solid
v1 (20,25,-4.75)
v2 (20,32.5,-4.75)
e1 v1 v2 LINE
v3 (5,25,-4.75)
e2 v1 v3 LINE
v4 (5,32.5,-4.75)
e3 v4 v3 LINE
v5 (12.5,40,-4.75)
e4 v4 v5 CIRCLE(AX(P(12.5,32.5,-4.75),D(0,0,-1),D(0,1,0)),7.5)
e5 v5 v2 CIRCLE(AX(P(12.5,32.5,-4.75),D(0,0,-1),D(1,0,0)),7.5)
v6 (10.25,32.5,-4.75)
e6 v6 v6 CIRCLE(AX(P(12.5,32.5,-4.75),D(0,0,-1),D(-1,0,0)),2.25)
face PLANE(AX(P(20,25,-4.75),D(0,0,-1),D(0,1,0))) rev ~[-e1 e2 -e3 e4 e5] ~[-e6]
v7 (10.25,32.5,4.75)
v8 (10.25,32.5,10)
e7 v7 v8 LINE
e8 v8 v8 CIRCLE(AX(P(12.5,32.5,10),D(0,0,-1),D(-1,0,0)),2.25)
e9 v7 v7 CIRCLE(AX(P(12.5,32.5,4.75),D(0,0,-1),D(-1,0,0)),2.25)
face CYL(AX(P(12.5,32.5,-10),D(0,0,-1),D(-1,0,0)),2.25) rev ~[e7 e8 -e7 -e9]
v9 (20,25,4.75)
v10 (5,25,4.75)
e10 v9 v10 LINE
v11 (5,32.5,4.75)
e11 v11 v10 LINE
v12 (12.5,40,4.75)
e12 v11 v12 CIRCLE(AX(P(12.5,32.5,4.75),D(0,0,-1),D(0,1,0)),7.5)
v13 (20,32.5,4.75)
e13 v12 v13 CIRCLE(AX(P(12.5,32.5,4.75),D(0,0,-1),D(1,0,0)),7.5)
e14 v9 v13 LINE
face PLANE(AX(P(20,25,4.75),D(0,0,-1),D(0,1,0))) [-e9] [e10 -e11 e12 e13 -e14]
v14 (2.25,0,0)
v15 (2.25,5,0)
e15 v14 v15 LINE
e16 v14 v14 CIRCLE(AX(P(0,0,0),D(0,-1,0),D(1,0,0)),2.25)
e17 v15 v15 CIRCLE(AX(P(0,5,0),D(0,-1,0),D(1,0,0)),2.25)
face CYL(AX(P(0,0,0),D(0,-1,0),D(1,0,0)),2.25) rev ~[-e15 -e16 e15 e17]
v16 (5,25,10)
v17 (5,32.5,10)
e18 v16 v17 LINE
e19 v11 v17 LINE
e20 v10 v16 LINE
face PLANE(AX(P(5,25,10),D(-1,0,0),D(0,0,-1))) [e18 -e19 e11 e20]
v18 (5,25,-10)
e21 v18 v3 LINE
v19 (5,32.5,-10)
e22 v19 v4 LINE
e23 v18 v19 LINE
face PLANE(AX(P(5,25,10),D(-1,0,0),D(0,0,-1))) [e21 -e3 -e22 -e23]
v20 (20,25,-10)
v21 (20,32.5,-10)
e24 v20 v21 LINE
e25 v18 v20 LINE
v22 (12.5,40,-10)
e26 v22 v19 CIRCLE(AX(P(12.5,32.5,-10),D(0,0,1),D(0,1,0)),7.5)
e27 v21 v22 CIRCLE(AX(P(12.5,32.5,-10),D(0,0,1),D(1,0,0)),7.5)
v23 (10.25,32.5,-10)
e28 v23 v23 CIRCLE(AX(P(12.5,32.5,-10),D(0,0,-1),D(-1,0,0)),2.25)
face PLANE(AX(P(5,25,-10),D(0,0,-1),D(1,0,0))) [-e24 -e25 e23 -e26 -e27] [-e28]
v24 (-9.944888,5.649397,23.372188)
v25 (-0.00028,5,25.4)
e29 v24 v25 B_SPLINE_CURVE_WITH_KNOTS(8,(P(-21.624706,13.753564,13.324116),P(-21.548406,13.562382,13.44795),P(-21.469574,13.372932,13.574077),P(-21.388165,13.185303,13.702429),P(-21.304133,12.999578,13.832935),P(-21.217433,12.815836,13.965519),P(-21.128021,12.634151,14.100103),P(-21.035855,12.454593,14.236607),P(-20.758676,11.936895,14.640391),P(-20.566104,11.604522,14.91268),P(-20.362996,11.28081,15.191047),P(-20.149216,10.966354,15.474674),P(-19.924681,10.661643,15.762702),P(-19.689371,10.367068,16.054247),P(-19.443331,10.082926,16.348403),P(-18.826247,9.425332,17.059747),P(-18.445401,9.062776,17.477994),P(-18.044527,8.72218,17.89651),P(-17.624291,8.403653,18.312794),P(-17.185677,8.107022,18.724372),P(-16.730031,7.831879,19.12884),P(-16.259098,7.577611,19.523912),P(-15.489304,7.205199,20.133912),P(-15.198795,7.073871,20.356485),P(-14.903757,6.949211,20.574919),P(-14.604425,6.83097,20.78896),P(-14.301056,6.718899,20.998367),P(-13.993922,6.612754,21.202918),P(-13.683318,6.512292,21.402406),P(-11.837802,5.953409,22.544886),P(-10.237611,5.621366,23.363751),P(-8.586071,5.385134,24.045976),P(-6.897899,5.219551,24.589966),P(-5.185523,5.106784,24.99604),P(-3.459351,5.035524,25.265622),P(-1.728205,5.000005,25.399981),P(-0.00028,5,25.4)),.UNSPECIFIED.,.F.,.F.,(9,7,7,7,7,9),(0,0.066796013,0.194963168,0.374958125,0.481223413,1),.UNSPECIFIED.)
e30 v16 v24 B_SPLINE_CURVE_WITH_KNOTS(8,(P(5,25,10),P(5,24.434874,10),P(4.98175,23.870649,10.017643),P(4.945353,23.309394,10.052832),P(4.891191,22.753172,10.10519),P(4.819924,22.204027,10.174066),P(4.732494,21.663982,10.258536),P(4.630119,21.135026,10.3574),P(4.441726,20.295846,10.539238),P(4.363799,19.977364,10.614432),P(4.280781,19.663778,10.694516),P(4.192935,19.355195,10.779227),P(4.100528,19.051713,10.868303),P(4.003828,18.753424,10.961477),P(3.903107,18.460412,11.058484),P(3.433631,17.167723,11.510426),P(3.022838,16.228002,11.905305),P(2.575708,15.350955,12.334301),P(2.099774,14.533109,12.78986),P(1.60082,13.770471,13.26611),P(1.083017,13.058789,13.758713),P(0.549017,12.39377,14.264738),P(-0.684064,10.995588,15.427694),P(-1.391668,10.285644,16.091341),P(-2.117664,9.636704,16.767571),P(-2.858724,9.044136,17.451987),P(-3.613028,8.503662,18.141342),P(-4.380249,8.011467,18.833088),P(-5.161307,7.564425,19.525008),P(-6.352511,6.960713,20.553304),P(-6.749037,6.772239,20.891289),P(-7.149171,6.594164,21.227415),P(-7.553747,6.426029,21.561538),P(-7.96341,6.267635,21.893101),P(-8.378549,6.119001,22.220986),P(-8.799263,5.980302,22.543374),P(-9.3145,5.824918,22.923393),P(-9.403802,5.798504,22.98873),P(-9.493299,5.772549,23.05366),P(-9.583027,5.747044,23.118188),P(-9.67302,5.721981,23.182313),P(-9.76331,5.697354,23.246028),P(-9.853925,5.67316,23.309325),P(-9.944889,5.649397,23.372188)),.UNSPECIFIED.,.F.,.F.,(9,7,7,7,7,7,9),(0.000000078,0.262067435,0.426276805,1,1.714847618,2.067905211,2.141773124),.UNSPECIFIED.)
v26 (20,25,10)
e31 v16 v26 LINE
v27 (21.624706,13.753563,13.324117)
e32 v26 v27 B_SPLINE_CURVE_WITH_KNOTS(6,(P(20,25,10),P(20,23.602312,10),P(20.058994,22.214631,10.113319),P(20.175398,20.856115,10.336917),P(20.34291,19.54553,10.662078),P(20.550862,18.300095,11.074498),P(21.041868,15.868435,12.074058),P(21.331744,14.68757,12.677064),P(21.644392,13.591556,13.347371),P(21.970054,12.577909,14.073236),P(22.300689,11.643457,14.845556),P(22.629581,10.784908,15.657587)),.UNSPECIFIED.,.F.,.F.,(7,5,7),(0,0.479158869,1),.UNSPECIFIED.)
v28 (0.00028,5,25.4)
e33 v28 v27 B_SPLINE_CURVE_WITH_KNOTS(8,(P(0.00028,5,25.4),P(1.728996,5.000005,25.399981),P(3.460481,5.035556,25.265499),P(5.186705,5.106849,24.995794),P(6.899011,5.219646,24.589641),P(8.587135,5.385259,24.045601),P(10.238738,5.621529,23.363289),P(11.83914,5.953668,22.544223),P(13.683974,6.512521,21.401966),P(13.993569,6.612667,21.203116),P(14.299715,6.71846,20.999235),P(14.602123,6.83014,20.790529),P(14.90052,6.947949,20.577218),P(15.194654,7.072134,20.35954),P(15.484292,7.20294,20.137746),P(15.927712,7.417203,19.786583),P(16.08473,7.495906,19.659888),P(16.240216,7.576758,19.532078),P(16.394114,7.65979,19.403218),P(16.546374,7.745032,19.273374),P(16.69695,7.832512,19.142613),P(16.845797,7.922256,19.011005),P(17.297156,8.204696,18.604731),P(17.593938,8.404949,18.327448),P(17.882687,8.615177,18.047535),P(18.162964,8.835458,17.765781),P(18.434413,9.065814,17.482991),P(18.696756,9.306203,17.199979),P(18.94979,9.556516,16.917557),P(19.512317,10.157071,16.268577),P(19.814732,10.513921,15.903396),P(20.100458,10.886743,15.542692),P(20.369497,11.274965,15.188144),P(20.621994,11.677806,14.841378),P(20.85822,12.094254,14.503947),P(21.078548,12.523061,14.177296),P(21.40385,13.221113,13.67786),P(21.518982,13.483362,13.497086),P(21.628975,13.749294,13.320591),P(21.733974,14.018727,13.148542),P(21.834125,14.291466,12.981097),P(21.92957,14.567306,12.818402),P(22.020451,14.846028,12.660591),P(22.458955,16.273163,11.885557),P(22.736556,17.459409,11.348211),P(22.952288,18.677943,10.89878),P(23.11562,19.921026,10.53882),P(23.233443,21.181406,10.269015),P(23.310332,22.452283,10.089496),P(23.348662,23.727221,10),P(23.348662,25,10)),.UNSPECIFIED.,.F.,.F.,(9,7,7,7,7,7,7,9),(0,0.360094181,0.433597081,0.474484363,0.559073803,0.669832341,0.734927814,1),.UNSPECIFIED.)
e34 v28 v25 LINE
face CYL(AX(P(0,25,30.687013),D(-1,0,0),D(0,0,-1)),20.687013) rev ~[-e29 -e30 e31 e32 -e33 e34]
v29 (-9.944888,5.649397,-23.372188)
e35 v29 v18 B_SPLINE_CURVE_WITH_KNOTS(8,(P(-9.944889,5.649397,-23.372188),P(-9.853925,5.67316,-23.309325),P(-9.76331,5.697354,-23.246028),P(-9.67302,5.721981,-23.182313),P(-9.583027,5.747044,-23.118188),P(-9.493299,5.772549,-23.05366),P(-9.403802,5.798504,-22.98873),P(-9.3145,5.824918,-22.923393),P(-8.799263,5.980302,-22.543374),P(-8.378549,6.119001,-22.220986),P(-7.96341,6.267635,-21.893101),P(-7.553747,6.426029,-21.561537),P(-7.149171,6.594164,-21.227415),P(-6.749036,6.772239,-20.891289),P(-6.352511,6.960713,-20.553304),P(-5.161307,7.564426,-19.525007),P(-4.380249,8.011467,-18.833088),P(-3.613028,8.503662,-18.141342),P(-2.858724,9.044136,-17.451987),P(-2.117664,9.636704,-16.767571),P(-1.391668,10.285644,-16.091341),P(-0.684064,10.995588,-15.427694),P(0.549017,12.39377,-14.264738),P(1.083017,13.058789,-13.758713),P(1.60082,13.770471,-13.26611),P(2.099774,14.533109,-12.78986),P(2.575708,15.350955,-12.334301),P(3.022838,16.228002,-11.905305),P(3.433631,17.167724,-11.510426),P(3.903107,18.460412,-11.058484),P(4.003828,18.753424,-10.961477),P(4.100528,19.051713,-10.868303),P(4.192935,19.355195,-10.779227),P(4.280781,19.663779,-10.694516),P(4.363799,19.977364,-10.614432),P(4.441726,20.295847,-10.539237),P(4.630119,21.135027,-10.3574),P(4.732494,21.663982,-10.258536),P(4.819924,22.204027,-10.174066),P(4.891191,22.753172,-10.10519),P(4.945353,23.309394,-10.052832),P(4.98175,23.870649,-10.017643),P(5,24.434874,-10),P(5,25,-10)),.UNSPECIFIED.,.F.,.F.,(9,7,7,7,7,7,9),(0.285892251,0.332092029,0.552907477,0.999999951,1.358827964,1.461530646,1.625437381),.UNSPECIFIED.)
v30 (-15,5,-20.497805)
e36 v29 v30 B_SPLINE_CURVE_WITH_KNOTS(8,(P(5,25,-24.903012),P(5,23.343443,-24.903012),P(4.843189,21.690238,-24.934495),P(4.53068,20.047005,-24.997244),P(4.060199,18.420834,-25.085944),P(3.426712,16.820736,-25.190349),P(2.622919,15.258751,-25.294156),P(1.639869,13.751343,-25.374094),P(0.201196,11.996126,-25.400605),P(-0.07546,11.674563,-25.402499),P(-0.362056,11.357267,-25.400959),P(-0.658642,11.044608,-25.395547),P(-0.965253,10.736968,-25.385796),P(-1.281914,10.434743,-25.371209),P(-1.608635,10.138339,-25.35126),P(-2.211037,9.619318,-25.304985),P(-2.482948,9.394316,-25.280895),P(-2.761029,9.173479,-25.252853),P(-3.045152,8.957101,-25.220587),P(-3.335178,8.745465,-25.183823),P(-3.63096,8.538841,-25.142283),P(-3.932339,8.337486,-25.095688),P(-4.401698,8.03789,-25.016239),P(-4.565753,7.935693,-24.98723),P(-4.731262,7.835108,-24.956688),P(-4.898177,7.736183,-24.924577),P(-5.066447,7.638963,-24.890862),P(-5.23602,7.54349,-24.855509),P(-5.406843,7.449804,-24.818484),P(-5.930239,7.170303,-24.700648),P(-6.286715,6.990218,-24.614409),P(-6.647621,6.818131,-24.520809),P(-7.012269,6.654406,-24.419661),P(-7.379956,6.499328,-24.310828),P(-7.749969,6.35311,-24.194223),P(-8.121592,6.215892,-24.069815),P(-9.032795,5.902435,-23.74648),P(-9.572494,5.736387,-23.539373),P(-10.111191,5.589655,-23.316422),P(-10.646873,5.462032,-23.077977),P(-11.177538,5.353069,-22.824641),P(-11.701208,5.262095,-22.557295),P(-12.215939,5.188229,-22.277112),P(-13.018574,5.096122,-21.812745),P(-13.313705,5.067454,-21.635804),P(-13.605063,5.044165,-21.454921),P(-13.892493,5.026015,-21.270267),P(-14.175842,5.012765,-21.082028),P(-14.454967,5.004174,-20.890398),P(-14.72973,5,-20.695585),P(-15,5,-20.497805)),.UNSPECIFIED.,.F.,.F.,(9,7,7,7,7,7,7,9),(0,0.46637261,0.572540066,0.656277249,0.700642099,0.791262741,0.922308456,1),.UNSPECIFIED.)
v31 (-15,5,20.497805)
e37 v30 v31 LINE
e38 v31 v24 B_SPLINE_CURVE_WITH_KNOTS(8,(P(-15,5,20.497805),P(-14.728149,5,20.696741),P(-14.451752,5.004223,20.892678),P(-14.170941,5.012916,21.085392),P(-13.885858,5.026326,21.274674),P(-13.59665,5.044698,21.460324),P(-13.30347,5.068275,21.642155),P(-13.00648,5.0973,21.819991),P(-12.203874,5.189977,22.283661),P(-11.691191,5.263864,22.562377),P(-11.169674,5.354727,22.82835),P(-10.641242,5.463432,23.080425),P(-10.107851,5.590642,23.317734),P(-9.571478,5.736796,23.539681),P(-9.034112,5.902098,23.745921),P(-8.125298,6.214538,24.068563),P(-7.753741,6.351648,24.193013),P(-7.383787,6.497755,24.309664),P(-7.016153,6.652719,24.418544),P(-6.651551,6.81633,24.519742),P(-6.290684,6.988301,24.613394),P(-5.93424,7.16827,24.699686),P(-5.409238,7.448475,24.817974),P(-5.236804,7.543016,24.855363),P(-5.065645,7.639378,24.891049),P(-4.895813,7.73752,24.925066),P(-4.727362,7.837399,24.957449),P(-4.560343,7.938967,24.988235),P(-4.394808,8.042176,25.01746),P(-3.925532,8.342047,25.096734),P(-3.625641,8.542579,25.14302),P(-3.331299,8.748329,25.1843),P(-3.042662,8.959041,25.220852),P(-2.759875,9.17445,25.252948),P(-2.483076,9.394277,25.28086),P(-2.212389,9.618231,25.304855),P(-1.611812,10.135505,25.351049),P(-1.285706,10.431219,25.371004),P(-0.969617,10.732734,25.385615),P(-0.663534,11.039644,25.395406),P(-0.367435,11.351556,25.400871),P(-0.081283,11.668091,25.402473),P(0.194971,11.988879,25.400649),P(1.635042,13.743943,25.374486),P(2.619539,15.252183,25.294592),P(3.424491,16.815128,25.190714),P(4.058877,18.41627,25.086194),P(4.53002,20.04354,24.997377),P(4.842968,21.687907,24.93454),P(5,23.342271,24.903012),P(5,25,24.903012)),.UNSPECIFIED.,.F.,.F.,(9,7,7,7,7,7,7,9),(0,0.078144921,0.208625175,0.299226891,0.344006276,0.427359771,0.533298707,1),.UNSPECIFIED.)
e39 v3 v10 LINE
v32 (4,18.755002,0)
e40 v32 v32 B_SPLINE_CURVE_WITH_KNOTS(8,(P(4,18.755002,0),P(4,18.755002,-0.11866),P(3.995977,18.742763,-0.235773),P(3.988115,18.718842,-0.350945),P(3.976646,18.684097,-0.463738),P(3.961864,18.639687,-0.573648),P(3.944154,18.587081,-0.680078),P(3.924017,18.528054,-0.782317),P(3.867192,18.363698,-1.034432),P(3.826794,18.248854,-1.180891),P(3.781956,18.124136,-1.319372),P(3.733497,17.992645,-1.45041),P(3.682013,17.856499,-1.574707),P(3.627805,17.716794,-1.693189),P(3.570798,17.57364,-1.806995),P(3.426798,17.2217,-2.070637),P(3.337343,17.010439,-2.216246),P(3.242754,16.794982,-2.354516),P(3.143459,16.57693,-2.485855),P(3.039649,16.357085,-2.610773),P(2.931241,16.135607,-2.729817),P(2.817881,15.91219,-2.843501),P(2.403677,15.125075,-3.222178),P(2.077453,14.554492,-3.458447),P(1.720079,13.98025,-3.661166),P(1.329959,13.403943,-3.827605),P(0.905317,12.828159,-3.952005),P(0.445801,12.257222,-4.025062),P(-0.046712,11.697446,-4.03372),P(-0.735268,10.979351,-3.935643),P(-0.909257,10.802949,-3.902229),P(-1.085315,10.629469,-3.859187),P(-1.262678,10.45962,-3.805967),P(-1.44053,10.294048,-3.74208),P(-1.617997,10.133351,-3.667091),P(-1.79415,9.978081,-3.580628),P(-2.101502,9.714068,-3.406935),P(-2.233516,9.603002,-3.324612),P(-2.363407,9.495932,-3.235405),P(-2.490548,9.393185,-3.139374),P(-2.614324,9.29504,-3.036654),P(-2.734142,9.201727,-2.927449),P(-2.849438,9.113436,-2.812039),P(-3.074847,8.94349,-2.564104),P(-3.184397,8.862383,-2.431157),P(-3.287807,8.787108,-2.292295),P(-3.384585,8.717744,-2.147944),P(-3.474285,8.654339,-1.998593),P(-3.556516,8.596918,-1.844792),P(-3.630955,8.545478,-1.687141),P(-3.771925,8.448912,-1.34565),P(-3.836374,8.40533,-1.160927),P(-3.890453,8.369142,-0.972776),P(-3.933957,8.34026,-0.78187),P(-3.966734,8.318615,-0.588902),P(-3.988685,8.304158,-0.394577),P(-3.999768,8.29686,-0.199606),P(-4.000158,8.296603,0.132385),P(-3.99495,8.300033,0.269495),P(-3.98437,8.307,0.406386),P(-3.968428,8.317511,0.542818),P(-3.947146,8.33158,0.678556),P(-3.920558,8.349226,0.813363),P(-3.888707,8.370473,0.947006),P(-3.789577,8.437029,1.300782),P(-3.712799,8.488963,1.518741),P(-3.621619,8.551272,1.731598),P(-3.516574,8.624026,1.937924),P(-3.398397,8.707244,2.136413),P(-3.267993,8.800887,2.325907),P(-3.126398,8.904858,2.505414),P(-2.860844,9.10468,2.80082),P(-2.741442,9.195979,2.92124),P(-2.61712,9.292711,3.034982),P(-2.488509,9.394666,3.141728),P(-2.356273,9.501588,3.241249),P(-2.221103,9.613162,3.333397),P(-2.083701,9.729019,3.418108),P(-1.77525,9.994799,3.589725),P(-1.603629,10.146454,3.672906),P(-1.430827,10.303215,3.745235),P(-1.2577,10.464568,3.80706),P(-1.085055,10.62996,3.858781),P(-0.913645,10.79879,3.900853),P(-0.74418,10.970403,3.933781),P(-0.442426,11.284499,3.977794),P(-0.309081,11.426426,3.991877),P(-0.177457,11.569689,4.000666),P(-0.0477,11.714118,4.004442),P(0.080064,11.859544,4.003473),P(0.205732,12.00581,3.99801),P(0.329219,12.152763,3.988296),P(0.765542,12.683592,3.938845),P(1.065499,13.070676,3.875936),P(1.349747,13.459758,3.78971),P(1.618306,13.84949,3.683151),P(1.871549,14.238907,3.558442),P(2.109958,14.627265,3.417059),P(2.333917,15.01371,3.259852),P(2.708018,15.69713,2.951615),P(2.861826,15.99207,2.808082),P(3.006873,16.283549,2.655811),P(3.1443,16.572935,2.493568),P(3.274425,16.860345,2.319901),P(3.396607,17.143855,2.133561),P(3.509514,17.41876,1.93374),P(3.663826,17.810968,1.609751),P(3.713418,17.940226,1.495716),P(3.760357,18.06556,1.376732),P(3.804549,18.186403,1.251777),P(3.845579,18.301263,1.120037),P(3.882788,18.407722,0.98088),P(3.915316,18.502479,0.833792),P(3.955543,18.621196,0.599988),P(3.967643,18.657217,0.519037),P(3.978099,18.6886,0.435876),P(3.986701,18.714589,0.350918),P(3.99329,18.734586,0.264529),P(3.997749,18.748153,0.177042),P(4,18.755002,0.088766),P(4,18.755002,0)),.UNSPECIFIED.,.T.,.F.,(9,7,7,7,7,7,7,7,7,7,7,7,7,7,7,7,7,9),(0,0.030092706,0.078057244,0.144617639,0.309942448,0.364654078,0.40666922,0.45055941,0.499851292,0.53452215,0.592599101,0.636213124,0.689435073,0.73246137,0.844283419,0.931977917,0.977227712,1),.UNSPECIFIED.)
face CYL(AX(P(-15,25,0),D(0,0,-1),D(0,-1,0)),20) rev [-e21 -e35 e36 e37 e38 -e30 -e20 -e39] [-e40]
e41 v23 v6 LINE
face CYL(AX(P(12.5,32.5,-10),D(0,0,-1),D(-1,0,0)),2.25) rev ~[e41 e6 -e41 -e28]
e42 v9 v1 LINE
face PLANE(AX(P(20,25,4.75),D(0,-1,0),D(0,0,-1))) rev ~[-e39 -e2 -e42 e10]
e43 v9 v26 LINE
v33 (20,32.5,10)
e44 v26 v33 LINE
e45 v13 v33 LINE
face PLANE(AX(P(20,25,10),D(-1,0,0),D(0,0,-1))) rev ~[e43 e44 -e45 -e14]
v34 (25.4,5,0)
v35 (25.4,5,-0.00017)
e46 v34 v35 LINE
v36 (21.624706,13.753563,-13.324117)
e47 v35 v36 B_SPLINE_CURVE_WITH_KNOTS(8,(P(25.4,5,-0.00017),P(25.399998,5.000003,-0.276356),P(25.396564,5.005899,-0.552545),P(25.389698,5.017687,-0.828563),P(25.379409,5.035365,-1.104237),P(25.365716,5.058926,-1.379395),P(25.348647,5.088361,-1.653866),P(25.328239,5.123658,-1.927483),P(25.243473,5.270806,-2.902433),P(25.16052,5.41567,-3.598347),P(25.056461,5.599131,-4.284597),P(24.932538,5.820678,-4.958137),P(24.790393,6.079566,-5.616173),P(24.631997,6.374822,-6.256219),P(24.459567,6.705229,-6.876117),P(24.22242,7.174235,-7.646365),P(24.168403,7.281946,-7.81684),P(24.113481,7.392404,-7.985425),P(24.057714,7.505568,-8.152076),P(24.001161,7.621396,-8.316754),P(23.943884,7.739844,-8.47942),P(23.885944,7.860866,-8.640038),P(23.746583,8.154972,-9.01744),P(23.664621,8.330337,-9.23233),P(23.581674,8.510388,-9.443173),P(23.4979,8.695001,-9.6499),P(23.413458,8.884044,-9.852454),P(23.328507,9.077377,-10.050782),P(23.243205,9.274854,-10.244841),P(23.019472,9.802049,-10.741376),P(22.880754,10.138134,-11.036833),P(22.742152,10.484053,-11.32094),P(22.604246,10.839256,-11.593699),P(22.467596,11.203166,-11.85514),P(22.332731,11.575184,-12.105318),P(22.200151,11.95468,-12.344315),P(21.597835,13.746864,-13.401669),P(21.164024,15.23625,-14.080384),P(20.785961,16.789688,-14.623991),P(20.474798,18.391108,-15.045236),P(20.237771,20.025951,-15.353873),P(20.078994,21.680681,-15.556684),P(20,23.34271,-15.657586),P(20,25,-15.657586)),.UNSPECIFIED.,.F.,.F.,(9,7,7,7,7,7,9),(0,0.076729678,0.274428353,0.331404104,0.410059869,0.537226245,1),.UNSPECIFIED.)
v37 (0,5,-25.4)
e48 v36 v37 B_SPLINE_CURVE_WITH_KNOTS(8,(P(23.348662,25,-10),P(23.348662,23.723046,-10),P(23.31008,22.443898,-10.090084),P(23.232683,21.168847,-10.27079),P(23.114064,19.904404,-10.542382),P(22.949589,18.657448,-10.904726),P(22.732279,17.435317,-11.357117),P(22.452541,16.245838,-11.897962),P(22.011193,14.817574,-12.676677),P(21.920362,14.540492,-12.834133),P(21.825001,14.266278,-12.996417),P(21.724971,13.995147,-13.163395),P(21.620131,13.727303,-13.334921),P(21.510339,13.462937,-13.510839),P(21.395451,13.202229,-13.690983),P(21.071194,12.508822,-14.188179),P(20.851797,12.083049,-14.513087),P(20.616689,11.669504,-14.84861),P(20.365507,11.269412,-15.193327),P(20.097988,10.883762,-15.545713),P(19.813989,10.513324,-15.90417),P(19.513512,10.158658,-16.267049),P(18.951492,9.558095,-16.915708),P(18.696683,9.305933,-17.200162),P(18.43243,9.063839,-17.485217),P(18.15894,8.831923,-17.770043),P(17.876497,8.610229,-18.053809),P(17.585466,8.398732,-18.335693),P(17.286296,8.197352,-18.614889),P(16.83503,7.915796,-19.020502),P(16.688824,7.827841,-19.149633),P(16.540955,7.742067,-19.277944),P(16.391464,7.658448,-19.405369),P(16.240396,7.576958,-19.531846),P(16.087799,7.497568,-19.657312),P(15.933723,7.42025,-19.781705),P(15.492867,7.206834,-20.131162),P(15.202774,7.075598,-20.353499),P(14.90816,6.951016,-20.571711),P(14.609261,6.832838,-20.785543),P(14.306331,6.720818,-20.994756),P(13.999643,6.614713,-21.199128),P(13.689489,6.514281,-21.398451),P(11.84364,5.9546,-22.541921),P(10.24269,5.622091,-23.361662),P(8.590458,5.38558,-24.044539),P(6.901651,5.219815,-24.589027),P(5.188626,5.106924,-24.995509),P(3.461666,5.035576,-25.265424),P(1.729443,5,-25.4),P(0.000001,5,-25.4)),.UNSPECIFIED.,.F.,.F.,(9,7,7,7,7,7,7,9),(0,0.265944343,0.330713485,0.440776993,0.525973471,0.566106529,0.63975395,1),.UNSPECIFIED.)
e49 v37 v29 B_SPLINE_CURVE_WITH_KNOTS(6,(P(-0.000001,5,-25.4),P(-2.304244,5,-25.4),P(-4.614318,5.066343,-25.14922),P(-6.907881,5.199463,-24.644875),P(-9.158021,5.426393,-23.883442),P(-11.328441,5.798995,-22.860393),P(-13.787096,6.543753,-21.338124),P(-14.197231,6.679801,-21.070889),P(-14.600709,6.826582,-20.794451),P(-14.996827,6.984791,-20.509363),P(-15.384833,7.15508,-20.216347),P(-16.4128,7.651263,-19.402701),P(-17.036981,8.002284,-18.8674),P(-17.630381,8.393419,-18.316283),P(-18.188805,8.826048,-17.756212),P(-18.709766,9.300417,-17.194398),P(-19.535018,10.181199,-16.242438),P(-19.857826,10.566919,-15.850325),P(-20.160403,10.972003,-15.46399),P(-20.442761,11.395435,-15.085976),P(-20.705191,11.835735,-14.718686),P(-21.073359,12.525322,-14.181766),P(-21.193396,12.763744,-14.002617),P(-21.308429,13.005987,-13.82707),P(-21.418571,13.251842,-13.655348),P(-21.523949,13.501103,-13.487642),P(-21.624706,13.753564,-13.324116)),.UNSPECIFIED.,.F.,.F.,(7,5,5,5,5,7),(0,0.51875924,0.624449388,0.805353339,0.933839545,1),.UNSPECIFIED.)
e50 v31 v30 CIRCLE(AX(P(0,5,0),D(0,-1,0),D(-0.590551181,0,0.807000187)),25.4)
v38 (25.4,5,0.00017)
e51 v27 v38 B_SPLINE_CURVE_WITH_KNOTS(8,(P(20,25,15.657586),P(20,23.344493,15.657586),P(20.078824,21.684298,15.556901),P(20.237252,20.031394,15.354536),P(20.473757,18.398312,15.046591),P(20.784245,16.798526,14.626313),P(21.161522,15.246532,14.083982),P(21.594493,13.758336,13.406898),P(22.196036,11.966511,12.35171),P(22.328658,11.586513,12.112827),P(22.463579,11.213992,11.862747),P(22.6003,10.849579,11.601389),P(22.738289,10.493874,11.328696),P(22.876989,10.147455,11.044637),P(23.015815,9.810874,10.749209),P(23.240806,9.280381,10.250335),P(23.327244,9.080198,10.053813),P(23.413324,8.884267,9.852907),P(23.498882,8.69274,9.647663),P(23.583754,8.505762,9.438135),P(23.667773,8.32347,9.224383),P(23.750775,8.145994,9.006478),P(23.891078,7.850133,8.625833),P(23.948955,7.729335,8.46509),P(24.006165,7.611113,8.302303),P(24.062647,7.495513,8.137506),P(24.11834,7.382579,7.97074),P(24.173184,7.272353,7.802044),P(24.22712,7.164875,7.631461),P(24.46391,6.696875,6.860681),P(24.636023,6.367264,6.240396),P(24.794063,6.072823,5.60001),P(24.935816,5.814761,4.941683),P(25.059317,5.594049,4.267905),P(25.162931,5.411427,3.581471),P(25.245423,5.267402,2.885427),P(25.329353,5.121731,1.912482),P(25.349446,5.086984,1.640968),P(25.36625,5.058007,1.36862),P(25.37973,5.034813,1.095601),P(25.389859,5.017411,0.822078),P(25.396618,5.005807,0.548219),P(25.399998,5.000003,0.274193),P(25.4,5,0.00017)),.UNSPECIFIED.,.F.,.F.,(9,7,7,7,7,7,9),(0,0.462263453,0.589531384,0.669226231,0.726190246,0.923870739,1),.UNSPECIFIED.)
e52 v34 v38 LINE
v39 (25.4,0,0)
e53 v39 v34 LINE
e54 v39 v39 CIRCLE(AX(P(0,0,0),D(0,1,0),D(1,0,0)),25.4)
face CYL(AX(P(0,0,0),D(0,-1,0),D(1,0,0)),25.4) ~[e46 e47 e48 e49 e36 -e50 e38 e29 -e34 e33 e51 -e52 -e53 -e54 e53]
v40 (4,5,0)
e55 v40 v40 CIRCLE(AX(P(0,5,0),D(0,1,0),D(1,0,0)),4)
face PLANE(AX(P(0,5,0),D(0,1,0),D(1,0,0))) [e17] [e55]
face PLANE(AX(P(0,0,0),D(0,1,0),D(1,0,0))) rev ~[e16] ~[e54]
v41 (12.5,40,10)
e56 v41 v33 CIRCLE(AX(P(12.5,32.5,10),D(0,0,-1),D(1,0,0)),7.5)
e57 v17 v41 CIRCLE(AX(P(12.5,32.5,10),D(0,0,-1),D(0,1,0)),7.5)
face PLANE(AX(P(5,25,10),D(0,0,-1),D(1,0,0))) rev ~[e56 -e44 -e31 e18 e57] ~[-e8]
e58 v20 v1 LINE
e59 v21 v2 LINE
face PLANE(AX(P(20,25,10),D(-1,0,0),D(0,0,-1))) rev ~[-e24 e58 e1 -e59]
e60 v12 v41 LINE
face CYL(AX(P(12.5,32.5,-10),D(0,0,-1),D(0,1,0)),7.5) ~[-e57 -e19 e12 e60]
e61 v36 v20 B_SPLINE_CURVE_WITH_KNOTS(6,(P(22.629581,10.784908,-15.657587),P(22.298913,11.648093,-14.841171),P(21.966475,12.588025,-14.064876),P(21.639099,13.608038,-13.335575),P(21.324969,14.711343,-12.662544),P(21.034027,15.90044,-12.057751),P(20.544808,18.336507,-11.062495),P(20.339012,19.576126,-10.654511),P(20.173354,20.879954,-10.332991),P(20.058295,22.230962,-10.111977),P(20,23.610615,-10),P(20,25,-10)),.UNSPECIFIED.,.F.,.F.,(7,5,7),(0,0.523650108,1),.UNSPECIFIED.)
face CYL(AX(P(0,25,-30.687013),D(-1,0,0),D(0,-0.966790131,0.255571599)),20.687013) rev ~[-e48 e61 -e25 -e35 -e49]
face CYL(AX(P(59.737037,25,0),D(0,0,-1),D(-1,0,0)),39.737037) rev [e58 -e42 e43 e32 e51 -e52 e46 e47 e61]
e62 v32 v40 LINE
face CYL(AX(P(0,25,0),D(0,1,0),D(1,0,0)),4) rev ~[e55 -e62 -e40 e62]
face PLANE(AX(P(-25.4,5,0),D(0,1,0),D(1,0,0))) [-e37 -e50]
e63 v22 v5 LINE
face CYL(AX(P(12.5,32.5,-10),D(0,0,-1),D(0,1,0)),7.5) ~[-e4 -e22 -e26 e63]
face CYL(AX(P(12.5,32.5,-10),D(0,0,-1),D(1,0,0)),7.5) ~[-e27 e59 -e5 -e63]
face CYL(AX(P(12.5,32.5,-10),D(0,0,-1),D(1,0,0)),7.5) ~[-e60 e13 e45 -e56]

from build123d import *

# Parameters (mm, degrees)
SKETCH1_R               = 25.4
BASE_DEPTH              = 25
SKETCH3_OUTSIDE_W       = 68.014
SKETCH3_OUTSIDE_H       = 42.214
CUT_EXTRUDE1_DEPTH      = 26.4
CUT_EXTRUDE1_DEPTH_BACK = 26.4
SKETCH4_OUTSIDE_W       = 68.014
SKETCH4_OUTSIDE_H       = 42.214
CUT_EXTRUDE2_DEPTH      = 26.4000001
CUT_EXTRUDE2_DEPTH_BACK = 26.4000001
SKETCH5_R               = 2.25
CUT_EXTRUDE3_DEPTH      = 26.0000001
SKETCH6_R               = 4
CUT_EXTRUDE4_DEPTH      = 20
SKETCH7_W               = 15
SKETCH7_H               = 20
ARM_BASE_DEPTH          = 15
SKETCH8_R               = 2.25
ARM_HOLE_DEPTH          = 36.4000001
SKETCH9_W               = 9.5
SKETCH9_H               = 15
CUT_EXTRUDE7_DEPTH      = 46.4000001


with BuildPart() as part:
    # Sketch1 → base (new body)
    with BuildSketch(Plane(origin=(0, 0, 0), x_dir=(1, 0, 0), z_dir=(0, 1, 0))):
        Circle(SKETCH1_R)
    extrude(amount=BASE_DEPTH)

    # Sketch3 outside → Cut-Extrude1 (cut, two sides)
    with BuildSketch(Plane.XY) as cut_extrude1_sk:
        with Locations((0, 12.5)):
            Rectangle(SKETCH3_OUTSIDE_W, SKETCH3_OUTSIDE_H)
        with BuildLine():
            Line((5, 25), (20, 25))
            ThreePointArc((20, 25), (21.373745827, 14.641911373), (25.4, 5))
            Line((25.4, 5), (25.4, 0))
            Line((25.4, 0), (-25.4, 0))
            Line((-25.4, 0), (-25.4, 5))
            Line((-25.4, 5), (-15, 5))
            ThreePointArc((-15, 5), (-0.857864376, 10.857864376), (5, 25))
        make_face(mode=Mode.SUBTRACT)
    extrude(amount=CUT_EXTRUDE1_DEPTH, mode=Mode.SUBTRACT)
    extrude(cut_extrude1_sk.sketch, amount=-CUT_EXTRUDE1_DEPTH_BACK, mode=Mode.SUBTRACT)

    # Sketch4 outside → Cut-Extrude2 (cut, two sides)
    with BuildSketch(Plane(origin=(0, 0, 0), x_dir=(0, 0, -1), z_dir=(1, 0, 0))) as cut_extrude2_sk:
        with Locations((0, 12.5)):
            Rectangle(SKETCH4_OUTSIDE_W, SKETCH4_OUTSIDE_H)
        with BuildLine():
            Line((-25.4, 5), (-25.4, 0))
            Line((-25.4, 0), (25.4, 0))
            Line((25.4, 0), (25.4, 5))
            ThreePointArc((25.4, 5), (14.296085426, 12.378985778), (10, 25))
            Line((10, 25), (-10, 25))
            ThreePointArc((-10, 25), (-14.296085426, 12.378985778), (-25.4, 5))
        make_face(mode=Mode.SUBTRACT)
    extrude(amount=CUT_EXTRUDE2_DEPTH, mode=Mode.SUBTRACT)
    extrude(cut_extrude2_sk.sketch, amount=-CUT_EXTRUDE2_DEPTH_BACK, mode=Mode.SUBTRACT)

    # Sketch5 → Cut-Extrude3 (cut, through all)
    with BuildSketch(Plane.XZ):
        Circle(SKETCH5_R)
    extrude(amount=-CUT_EXTRUDE3_DEPTH, mode=Mode.SUBTRACT)

    # Sketch6 → Cut-Extrude4 (cut)
    with BuildSketch(Plane(origin=(0, 25, 0), x_dir=(1, 0, 0), z_dir=(0, 1, 0))):
        Circle(SKETCH6_R)
    extrude(amount=-CUT_EXTRUDE4_DEPTH, mode=Mode.SUBTRACT)

    # Sketch7 → arm base (add)
    with BuildSketch(Plane(origin=(0, 25, 0), x_dir=(1, 0, 0), z_dir=(0, 1, 0))):
        with Locations((12.5, 0)):
            Rectangle(SKETCH7_W, SKETCH7_H)
    extrude(amount=ARM_BASE_DEPTH)

    # Sketch8 → arm hole (cut, through all)
    with BuildSketch(Plane(origin=(0, 0, -10), x_dir=(-1, 0, 0), z_dir=(0, 0, -1))):
        with BuildLine():
            ThreePointArc((-12.5, 40), (-7.196699141, 37.803300859), (-5, 32.5))
            Line((-5, 32.5), (-5, 40))
            Line((-5, 40), (-12.5, 40))
        make_face()
        with BuildLine():
            ThreePointArc((-20, 32.5), (-17.803300859, 37.803300859), (-12.5, 40))
            Line((-12.5, 40), (-20, 40))
            Line((-20, 40), (-20, 32.5))
        make_face()
        with Locations((-12.5, 32.5)):
            Circle(SKETCH8_R)
    extrude(amount=-ARM_HOLE_DEPTH, mode=Mode.SUBTRACT)

    # Sketch9 → Cut-Extrude7 (cut, through all)
    with BuildSketch(Plane(origin=(20, 0, 0), x_dir=(0, 0, -1), z_dir=(1, 0, 0))):
        with Locations((0, 32.5)):
            Rectangle(SKETCH9_W, SKETCH9_H)
    extrude(amount=-CUT_EXTRUDE7_DEPTH, mode=Mode.SUBTRACT)


solid = part.part
